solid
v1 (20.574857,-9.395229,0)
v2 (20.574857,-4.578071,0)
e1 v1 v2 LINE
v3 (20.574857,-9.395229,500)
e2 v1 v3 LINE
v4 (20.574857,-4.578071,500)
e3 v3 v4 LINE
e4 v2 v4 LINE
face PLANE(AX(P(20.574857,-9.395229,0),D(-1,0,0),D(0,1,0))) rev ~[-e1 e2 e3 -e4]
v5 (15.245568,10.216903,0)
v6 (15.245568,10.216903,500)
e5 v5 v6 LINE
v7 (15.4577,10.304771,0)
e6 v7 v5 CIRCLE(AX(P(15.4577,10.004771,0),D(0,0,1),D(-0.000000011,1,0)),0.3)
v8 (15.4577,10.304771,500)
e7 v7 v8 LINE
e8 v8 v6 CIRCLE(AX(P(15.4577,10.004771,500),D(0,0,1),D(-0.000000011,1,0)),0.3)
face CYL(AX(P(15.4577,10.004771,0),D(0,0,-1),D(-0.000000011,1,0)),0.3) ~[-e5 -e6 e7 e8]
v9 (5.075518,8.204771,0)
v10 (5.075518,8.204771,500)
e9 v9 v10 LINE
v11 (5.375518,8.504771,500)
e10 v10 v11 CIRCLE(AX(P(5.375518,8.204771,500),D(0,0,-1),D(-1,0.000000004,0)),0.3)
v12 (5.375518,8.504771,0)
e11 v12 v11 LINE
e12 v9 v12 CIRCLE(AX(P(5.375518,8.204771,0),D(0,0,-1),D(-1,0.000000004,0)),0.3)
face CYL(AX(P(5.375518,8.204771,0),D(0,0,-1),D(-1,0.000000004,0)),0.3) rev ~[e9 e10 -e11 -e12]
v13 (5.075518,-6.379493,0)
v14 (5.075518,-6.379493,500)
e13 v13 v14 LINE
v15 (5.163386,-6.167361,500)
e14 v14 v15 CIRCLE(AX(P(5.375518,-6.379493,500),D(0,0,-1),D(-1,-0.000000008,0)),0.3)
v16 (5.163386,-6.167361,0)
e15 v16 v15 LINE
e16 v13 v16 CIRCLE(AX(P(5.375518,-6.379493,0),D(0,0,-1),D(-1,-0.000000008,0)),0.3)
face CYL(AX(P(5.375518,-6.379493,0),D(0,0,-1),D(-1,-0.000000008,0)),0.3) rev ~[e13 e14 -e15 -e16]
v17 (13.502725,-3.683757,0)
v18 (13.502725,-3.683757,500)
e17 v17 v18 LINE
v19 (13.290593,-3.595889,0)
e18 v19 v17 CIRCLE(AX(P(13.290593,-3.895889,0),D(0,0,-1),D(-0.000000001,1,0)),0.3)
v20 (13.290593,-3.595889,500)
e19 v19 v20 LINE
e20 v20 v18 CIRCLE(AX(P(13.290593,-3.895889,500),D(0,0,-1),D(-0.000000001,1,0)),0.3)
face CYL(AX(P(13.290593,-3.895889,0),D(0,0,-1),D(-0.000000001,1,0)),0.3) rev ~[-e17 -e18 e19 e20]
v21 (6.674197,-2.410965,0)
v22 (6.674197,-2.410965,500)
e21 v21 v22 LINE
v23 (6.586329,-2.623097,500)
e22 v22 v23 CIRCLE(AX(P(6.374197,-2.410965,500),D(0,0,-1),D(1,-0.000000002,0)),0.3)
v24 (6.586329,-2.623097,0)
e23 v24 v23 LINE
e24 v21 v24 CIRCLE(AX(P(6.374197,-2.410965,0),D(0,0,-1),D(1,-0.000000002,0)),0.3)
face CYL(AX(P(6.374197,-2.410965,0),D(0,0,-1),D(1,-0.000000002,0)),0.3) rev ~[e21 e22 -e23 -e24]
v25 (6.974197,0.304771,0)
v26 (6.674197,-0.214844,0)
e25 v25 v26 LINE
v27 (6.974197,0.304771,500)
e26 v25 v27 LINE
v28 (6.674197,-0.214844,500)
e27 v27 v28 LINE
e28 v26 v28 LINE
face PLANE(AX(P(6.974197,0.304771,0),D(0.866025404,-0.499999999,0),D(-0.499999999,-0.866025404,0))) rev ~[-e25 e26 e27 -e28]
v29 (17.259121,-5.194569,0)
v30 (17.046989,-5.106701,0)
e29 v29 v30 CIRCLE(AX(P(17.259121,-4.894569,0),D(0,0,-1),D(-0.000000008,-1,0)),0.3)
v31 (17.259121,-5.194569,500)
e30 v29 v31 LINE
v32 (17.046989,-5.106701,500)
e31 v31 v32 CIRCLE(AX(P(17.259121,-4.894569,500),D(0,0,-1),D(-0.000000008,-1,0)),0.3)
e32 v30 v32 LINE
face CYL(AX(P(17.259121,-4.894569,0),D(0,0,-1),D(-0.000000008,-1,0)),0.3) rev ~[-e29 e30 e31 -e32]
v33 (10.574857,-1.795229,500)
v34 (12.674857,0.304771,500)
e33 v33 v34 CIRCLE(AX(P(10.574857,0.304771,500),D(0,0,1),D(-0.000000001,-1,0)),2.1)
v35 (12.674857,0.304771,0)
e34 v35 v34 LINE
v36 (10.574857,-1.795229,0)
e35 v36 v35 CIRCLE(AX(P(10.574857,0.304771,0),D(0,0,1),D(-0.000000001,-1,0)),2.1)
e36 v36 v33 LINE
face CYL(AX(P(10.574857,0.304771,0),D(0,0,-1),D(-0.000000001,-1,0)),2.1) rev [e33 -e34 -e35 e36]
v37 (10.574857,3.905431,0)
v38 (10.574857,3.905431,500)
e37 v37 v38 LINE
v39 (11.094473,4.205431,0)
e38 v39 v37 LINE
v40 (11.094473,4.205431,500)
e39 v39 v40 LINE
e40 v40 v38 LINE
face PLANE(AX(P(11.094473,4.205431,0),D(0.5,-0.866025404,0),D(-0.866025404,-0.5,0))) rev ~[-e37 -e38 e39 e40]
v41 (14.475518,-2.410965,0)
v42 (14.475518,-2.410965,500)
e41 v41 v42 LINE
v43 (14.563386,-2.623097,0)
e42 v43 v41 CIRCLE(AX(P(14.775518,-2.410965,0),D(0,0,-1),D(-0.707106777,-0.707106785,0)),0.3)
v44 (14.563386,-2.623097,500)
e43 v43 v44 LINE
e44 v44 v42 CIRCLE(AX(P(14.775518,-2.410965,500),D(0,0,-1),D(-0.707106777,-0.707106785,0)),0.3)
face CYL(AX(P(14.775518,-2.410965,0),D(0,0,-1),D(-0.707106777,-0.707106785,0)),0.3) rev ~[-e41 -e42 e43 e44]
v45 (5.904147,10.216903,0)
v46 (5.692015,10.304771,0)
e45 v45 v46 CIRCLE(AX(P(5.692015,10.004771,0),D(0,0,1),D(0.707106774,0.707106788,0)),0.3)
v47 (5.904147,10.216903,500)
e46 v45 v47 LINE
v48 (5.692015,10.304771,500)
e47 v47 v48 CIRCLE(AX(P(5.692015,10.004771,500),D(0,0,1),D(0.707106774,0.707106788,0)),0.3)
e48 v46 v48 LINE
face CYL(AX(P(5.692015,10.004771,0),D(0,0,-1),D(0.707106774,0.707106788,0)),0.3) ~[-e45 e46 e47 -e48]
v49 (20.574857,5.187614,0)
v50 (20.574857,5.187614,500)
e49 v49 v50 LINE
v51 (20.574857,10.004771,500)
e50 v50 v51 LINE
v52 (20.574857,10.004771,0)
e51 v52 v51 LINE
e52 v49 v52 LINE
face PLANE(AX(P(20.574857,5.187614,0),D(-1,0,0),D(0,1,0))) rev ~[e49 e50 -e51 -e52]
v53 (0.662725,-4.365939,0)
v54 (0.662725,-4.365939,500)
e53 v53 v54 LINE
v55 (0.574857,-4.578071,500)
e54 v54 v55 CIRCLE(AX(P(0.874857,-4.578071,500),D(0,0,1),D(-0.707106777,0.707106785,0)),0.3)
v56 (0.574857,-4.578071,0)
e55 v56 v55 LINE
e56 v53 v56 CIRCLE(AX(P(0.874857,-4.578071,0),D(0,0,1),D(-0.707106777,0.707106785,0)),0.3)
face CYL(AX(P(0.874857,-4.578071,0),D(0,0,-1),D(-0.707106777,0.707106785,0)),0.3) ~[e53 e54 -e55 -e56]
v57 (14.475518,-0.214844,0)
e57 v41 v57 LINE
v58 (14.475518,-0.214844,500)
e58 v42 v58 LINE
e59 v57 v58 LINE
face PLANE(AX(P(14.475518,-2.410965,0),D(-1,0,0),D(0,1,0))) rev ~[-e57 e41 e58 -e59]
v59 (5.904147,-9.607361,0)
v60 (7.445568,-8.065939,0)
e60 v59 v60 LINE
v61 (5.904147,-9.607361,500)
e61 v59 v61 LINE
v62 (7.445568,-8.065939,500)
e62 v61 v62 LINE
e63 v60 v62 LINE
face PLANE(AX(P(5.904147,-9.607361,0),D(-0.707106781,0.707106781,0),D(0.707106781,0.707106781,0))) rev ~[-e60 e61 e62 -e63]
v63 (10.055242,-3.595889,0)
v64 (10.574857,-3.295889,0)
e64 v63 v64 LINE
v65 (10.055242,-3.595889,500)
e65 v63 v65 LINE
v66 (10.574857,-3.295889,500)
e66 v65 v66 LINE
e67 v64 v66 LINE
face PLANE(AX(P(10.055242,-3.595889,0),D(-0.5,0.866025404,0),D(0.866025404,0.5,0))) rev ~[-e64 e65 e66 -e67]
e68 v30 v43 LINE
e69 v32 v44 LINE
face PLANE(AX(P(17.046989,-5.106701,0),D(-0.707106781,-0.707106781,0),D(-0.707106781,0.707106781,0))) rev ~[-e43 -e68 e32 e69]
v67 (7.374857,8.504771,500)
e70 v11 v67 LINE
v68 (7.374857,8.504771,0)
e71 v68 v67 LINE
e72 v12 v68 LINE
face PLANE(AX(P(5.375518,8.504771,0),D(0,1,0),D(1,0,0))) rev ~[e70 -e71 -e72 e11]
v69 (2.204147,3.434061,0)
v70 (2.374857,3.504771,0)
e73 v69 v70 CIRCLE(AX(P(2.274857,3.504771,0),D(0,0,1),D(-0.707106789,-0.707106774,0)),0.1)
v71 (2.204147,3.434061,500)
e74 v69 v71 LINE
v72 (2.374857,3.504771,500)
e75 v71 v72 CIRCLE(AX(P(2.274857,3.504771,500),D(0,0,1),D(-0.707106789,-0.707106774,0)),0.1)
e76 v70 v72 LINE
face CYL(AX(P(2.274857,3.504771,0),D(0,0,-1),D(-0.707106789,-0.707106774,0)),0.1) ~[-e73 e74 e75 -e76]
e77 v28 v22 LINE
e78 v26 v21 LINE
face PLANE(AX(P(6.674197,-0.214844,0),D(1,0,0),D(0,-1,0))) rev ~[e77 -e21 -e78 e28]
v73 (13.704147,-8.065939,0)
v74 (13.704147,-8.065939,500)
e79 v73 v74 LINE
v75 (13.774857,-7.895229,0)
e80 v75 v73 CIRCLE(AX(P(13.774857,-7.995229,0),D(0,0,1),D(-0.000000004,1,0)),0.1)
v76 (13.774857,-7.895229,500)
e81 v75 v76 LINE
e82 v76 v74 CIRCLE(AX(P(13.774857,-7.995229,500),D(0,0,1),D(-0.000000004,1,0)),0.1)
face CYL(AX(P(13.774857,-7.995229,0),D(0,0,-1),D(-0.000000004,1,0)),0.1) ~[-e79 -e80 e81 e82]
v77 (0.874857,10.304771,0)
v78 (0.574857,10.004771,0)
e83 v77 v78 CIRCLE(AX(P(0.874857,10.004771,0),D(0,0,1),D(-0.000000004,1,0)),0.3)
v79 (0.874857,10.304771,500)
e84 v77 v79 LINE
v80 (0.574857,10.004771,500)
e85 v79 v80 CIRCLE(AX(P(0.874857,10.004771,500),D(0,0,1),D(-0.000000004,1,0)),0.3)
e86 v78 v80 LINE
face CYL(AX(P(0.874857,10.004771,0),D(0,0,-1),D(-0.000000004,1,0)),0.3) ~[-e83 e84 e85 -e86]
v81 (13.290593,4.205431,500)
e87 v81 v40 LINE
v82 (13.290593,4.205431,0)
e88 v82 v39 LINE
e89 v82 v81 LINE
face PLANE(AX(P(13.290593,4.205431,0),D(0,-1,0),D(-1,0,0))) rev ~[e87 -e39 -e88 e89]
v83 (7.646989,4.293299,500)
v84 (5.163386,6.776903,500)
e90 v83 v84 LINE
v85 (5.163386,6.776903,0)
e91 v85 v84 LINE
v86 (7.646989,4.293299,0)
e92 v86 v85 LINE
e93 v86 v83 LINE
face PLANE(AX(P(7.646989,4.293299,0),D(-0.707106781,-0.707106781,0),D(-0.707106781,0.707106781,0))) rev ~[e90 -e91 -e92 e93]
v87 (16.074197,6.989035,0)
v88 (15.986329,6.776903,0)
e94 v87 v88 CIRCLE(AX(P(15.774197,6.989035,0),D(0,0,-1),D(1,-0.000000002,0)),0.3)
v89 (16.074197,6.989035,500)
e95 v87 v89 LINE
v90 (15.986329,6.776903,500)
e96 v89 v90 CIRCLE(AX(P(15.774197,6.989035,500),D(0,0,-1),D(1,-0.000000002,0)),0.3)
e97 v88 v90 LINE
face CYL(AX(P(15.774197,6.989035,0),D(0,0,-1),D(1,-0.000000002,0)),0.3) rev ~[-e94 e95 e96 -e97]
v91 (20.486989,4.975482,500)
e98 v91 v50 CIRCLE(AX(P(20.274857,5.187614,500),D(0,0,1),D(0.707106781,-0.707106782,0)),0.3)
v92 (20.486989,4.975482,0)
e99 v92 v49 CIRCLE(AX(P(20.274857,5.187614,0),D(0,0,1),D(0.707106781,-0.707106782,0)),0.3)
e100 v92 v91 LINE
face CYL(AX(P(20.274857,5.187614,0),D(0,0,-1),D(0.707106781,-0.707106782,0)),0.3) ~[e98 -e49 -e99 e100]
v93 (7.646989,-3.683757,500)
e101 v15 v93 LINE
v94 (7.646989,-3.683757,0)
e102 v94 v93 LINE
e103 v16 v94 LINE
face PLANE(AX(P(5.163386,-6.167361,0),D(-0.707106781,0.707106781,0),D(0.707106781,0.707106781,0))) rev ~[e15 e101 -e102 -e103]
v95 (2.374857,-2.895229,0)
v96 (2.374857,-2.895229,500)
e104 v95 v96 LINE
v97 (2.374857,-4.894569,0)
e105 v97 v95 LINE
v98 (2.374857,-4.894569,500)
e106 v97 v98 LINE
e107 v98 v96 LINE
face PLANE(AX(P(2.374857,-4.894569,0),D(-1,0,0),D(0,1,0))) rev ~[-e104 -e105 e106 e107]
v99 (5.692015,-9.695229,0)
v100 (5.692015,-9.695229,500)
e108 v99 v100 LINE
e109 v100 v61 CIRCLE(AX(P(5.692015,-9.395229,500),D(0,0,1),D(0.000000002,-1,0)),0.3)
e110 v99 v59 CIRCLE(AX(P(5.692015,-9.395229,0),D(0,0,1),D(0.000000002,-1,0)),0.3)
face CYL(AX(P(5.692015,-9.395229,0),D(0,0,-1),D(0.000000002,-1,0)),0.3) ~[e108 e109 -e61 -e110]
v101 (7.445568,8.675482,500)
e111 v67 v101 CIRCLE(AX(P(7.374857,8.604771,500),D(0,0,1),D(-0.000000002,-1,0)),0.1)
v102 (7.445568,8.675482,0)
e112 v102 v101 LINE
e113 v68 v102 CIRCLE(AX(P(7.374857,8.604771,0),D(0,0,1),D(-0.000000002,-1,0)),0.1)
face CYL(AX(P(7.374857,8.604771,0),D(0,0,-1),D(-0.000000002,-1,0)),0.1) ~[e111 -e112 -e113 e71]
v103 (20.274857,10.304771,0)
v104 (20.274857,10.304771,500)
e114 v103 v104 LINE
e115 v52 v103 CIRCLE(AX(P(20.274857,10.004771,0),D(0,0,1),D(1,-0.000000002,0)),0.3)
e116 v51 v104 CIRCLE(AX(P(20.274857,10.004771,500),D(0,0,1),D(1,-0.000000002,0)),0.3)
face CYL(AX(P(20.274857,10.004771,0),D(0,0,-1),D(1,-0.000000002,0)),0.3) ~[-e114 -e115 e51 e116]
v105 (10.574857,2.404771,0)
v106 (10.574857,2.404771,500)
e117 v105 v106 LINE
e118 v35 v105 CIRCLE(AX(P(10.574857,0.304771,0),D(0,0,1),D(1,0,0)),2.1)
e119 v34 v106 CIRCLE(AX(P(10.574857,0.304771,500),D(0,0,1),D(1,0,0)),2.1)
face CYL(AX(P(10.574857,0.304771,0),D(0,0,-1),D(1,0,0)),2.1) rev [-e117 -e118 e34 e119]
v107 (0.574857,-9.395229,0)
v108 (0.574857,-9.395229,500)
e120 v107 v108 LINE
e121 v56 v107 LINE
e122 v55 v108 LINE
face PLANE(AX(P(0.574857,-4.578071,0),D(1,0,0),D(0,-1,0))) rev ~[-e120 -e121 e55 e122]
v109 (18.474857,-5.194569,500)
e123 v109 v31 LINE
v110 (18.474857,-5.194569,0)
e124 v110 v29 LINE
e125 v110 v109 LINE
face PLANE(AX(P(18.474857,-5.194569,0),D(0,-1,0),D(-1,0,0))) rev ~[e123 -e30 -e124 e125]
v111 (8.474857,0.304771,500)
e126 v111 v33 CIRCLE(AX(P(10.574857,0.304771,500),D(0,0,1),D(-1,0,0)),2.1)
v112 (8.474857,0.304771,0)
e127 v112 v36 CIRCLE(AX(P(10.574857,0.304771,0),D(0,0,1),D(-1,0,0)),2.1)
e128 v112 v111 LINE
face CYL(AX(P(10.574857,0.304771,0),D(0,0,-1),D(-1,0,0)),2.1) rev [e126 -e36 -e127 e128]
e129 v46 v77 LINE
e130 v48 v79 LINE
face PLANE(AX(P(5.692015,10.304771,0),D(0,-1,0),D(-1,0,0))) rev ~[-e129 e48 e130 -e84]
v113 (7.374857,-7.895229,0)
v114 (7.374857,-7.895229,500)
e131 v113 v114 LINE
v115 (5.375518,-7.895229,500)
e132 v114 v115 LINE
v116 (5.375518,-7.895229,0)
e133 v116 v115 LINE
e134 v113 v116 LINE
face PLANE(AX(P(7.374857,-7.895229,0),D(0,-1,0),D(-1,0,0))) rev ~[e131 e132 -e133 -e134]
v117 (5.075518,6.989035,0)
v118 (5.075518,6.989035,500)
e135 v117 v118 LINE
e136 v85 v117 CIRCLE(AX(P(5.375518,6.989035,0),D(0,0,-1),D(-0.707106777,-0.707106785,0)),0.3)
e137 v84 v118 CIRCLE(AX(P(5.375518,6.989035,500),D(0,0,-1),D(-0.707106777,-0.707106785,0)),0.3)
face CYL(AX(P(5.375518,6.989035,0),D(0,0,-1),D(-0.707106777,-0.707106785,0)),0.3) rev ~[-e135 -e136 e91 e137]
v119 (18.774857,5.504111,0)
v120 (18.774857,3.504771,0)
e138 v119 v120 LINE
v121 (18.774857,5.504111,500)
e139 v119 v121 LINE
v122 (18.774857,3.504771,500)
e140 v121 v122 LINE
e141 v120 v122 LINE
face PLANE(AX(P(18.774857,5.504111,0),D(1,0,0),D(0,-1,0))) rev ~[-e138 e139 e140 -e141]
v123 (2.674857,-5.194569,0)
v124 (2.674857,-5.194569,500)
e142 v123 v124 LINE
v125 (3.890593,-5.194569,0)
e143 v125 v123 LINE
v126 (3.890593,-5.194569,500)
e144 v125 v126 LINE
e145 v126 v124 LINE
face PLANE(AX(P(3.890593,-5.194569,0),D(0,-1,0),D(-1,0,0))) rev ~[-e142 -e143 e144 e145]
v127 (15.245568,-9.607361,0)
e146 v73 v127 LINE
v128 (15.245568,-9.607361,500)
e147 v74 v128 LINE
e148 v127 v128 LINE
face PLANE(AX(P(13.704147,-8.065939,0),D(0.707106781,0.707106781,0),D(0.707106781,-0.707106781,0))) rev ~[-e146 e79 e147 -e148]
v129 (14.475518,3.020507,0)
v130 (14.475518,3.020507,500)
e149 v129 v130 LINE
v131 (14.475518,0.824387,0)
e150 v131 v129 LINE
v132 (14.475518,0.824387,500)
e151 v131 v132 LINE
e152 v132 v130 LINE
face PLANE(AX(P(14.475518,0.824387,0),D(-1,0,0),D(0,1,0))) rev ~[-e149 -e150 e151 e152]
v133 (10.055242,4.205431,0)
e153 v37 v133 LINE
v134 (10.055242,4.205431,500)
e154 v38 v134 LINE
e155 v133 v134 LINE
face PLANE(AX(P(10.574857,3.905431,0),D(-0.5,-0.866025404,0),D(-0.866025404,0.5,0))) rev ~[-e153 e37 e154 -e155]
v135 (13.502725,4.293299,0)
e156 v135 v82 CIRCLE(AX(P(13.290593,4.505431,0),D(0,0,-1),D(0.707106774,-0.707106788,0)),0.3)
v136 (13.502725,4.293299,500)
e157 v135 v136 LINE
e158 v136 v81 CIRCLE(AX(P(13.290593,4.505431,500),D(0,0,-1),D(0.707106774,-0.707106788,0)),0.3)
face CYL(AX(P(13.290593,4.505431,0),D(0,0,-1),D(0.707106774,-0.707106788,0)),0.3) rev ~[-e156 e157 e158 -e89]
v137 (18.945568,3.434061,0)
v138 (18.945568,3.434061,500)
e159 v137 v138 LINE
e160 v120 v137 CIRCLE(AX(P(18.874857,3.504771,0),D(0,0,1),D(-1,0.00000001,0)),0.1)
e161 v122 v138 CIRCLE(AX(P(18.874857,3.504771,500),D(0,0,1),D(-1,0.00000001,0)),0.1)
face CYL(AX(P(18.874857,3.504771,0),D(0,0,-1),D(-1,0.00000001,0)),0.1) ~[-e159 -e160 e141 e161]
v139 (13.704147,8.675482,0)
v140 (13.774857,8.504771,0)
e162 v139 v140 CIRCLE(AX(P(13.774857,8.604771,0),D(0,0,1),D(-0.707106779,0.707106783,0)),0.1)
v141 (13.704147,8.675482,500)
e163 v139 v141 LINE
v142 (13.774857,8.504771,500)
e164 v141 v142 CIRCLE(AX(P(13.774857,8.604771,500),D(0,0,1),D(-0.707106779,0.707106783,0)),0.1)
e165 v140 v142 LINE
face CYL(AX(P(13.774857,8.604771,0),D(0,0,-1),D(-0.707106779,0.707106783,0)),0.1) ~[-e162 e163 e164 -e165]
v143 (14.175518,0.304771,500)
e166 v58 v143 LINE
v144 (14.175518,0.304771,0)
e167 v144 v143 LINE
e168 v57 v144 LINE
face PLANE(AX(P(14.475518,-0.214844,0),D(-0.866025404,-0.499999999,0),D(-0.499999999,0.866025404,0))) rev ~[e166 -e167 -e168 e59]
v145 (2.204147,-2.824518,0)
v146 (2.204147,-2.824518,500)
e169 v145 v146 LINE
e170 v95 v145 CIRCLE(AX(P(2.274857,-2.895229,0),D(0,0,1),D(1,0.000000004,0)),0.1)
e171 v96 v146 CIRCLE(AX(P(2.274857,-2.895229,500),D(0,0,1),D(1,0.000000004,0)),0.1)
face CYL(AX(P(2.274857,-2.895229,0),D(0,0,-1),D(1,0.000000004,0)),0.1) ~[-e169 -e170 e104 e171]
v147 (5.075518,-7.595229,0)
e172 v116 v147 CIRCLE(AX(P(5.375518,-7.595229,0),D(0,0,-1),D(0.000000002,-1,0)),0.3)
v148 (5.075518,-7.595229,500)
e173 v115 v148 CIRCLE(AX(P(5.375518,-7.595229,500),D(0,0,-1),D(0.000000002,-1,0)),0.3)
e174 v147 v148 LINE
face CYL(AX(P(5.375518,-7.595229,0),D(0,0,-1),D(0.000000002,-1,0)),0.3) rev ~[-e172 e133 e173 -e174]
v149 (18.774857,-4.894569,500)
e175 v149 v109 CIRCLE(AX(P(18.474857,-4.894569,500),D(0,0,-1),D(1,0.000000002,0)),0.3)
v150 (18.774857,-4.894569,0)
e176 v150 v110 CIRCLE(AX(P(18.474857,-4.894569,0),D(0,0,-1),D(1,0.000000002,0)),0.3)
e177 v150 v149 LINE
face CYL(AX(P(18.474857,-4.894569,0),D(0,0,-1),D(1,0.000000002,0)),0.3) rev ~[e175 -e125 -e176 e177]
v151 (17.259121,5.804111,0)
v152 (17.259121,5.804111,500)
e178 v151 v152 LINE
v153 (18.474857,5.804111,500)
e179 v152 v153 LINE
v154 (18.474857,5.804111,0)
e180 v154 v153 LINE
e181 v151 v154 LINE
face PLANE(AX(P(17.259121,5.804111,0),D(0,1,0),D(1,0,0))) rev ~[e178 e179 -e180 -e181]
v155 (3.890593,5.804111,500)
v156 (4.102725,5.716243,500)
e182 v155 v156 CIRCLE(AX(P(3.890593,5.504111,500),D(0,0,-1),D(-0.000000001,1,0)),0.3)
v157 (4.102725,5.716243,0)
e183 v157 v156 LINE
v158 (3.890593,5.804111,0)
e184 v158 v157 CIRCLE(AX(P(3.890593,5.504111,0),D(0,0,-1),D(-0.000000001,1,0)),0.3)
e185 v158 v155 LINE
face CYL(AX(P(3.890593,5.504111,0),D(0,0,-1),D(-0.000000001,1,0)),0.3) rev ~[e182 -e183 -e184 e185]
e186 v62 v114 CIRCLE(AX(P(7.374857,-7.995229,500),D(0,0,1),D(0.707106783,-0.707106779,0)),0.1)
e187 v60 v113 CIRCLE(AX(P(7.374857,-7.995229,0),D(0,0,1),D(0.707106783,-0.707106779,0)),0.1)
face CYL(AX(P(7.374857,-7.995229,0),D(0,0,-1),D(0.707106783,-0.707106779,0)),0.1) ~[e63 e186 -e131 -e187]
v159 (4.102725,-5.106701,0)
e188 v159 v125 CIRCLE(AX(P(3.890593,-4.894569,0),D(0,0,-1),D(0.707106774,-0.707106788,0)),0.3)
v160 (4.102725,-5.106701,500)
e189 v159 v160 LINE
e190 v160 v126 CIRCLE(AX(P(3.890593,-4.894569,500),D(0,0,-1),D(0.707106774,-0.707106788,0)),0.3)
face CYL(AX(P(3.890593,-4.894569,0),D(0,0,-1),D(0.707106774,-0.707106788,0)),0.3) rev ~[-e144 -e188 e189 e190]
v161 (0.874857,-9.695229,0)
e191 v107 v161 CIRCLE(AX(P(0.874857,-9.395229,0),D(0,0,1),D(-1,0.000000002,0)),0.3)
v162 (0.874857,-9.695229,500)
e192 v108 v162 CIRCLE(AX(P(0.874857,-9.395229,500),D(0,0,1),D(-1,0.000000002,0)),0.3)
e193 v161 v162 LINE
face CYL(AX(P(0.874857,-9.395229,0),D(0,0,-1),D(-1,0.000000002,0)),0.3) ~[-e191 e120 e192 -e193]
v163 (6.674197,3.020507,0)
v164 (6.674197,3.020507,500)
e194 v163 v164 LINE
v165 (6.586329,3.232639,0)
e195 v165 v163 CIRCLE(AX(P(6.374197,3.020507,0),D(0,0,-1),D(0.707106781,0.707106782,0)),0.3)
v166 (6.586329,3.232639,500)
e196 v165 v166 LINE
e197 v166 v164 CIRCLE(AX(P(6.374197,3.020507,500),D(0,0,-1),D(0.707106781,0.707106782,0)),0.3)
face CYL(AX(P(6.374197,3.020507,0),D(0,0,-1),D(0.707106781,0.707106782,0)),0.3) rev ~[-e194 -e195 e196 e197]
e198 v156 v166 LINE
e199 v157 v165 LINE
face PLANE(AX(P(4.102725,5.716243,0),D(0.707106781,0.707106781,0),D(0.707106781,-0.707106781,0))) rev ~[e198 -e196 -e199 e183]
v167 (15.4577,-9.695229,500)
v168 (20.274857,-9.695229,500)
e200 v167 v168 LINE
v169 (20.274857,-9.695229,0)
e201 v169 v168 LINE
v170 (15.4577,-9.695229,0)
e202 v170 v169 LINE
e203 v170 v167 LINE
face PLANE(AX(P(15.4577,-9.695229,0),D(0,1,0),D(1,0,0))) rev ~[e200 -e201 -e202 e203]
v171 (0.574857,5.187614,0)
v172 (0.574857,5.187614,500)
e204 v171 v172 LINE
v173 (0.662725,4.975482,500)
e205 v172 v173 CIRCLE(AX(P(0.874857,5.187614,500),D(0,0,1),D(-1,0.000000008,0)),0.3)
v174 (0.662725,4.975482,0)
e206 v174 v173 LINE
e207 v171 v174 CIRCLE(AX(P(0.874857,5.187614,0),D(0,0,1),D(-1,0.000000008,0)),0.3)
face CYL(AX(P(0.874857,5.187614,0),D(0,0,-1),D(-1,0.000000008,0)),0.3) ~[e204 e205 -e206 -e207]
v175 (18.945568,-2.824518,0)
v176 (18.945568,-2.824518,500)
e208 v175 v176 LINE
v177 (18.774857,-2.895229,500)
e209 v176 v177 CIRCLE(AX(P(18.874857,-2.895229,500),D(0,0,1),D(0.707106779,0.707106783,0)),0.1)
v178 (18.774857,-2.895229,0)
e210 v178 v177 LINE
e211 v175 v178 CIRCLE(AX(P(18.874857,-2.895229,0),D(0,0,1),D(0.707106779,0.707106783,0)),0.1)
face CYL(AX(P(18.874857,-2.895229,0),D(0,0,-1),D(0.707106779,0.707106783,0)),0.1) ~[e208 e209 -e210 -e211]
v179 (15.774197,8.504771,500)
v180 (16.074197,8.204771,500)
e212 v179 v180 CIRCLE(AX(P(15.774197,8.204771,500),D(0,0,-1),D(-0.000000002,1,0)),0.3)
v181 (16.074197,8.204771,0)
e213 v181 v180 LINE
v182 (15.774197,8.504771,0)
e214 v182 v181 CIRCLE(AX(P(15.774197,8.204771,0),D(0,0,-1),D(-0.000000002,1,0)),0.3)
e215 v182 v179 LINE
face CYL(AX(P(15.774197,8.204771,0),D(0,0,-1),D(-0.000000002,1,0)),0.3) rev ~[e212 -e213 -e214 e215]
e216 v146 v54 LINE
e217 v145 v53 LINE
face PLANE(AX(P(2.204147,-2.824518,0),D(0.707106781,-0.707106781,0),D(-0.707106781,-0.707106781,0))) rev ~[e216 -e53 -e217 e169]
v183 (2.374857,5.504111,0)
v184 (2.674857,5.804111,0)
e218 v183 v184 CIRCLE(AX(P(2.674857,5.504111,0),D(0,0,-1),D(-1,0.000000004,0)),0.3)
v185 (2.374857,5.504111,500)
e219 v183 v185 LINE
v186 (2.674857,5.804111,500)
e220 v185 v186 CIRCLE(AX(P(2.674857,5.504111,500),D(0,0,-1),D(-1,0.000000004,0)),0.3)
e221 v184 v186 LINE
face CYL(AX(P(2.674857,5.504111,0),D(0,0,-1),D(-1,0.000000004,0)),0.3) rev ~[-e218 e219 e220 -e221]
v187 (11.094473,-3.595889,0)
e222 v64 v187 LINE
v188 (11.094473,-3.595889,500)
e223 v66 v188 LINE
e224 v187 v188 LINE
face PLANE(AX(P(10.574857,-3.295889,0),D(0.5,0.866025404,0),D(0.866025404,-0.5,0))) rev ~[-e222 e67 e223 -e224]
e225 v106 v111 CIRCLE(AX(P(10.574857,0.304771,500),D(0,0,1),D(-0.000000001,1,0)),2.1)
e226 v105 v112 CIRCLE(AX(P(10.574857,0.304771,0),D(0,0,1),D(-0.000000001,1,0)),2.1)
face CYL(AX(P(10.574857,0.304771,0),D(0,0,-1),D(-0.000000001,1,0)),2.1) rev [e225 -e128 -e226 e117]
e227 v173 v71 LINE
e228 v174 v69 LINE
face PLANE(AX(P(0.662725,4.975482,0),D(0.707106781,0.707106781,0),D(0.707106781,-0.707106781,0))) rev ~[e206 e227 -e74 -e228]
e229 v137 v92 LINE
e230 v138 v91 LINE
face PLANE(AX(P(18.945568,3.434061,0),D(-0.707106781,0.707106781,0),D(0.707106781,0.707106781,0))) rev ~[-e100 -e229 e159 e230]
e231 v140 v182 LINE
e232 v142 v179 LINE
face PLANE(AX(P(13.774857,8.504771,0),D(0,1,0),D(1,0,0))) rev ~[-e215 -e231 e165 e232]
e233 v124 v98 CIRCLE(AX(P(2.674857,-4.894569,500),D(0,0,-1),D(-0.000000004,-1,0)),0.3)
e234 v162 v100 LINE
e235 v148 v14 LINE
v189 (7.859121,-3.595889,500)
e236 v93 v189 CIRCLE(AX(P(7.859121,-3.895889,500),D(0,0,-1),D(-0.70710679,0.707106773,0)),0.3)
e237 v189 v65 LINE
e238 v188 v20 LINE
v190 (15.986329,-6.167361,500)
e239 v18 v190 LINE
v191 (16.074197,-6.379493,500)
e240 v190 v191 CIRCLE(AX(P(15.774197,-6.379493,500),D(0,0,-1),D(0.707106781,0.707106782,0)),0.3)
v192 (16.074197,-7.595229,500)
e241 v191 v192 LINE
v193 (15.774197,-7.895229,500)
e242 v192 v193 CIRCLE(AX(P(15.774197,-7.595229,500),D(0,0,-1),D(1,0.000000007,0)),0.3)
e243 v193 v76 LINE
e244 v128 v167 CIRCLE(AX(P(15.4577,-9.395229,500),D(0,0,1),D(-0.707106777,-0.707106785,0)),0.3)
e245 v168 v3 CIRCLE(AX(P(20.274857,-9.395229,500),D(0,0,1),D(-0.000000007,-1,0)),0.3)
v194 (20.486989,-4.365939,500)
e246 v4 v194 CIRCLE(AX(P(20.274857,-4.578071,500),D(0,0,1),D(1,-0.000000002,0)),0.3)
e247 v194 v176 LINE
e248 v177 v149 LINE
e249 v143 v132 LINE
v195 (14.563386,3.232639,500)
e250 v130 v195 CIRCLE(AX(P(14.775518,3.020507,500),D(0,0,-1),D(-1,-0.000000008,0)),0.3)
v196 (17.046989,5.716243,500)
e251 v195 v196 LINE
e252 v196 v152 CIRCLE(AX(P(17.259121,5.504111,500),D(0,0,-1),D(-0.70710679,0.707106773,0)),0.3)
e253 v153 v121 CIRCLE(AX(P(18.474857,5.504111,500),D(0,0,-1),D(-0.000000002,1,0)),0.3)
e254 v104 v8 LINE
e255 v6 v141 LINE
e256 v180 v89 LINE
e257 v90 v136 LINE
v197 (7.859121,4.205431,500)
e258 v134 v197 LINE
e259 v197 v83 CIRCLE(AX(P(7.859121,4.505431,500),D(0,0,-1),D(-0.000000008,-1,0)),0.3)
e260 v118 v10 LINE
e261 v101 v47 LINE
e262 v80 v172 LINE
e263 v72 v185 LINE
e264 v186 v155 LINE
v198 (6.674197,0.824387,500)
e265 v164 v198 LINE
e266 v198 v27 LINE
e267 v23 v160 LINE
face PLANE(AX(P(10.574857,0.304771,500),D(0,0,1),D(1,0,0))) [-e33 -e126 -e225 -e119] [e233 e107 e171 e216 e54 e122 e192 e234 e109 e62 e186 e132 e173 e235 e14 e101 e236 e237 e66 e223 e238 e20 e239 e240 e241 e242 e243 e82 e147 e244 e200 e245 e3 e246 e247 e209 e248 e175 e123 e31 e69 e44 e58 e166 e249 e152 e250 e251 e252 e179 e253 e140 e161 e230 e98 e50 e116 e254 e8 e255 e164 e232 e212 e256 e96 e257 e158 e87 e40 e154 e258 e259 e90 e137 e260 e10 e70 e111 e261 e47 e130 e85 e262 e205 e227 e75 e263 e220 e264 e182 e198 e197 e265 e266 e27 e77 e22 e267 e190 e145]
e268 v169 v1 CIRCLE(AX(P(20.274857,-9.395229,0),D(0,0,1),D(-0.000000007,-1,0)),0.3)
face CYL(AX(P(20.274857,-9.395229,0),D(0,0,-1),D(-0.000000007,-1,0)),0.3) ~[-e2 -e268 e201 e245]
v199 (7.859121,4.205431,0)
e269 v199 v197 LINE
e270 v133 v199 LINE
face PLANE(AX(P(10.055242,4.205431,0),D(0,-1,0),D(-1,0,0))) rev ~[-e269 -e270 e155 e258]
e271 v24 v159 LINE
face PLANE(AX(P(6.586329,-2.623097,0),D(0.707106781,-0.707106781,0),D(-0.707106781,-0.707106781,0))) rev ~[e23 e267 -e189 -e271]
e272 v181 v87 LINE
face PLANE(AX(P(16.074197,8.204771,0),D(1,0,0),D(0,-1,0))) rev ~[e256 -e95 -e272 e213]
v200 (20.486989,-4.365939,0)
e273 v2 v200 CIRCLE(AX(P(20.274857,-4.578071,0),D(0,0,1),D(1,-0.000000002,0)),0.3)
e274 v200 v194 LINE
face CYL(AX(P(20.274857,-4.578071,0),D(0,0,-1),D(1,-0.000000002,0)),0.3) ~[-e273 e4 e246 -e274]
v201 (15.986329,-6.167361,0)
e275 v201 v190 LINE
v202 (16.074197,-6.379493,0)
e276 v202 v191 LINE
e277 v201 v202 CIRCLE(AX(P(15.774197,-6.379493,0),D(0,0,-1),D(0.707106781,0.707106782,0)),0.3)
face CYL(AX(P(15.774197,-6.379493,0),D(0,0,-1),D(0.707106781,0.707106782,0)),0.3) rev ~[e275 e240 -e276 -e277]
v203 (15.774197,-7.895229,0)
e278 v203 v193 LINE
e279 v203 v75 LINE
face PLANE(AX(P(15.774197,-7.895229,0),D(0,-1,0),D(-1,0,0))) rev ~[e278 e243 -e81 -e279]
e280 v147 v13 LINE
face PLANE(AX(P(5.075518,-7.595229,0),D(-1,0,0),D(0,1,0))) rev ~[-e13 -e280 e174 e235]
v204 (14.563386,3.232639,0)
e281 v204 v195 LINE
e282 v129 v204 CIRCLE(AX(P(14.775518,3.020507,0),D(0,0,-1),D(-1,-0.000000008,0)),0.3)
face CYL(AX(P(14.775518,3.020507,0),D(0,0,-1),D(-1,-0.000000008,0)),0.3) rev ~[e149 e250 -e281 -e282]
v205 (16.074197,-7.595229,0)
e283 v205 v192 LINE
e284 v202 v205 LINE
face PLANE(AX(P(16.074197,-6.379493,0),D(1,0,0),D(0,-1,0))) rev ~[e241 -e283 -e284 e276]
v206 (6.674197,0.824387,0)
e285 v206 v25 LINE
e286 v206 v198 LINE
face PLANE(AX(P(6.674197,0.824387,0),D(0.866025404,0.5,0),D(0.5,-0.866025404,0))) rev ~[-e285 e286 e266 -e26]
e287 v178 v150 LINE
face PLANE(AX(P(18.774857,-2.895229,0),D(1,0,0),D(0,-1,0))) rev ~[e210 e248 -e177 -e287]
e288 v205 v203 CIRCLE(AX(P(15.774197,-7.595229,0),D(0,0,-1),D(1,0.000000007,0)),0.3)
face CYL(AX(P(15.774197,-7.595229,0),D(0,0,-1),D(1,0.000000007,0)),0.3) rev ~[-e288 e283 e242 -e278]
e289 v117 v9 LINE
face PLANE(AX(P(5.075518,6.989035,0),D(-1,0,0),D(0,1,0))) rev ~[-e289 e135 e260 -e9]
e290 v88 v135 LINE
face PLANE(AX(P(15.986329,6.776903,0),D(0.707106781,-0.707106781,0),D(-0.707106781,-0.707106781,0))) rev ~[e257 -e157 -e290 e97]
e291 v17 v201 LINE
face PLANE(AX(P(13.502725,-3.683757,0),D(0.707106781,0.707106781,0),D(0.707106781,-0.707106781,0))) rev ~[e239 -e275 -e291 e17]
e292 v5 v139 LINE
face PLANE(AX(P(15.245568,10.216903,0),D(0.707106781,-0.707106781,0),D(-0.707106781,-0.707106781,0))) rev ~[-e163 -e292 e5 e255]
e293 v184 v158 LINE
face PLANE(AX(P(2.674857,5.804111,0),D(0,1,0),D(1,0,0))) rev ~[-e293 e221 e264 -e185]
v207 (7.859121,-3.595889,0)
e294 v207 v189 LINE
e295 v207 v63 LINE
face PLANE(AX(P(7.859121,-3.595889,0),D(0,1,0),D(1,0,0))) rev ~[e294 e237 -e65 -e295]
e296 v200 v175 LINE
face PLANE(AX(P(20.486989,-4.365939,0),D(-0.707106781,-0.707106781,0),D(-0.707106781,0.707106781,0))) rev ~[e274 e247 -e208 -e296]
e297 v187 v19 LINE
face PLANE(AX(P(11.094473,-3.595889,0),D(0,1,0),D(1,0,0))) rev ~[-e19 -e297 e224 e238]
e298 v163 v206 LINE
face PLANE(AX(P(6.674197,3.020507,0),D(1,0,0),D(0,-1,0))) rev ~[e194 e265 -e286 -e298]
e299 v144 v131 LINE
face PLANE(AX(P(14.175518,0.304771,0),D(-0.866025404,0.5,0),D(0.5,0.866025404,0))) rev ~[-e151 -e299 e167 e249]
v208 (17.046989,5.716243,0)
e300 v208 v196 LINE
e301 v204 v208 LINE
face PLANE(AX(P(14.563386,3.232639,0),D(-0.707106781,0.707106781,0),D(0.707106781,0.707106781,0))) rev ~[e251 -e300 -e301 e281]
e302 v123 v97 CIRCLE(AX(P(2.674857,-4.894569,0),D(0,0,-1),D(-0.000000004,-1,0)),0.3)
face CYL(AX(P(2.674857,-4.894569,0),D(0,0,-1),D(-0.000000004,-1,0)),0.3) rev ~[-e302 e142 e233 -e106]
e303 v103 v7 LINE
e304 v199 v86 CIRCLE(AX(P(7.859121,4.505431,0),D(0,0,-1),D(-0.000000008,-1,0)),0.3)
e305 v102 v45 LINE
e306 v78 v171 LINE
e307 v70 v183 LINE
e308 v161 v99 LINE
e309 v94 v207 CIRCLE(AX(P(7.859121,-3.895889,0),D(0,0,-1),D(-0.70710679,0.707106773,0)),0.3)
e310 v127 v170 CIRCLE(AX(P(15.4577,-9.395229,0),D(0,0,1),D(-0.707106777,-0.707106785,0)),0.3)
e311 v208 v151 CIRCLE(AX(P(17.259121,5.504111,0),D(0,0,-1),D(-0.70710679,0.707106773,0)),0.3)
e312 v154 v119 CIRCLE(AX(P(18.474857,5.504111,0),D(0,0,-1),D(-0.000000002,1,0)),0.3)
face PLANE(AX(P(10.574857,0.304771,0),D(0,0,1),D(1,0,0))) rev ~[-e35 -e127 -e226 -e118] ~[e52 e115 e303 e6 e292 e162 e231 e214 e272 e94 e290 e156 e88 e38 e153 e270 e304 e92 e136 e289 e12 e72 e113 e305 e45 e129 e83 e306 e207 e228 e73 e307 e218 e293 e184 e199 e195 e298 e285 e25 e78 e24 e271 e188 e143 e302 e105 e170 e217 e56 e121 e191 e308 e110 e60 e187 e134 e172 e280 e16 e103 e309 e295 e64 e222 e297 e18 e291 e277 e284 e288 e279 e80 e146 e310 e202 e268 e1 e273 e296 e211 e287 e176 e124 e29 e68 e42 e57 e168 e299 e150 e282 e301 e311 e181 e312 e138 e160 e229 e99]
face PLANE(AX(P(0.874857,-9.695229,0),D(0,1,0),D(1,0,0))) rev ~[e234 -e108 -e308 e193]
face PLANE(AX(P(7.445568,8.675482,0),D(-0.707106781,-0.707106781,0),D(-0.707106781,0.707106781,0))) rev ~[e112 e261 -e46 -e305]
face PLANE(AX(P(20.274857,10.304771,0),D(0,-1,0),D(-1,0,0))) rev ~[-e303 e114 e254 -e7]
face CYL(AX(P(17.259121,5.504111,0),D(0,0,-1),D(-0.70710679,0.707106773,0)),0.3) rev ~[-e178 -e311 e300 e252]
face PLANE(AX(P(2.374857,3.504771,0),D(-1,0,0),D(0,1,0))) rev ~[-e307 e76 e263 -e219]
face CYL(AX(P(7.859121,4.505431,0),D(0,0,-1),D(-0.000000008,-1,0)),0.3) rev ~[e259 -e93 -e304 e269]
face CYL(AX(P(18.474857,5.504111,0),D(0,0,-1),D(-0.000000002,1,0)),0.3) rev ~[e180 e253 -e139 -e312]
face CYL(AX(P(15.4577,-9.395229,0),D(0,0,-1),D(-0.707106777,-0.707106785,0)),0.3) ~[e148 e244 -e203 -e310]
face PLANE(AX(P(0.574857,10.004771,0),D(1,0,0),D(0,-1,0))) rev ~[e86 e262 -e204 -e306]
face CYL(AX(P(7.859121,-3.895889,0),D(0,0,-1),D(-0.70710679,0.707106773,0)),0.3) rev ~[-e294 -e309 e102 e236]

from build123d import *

# Parameters (mm, degrees)
BOSS_EXTRU_1_DEPTH = 500


with BuildPart() as part:
    # Esquisse1 → Boss.-Extru.1 (new body)
    with BuildSketch(Plane.XY):
        with BuildLine():
            Line((18.774857412, -2.895228684), (18.774857412, -4.894568513))
            ThreePointArc((18.774857412, -4.894568513), (18.686989447, -5.106700547), (18.474857412, -5.194568513))
            Line((18.474857412, -5.194568513), (17.259121481, -5.194568513))
            ThreePointArc((17.259121481, -5.194568513), (17.144316451, -5.171732372), (17.046989447, -5.106700547))
            Line((17.046989447, -5.106700547), (14.56338555, -2.62309665))
            ThreePointArc((14.56338555, -2.62309665), (14.498353724, -2.525769645), (14.475517584, -2.410964616))
            Line((14.475517584, -2.410964616), (14.475517584, -0.214843927))
            Line((14.475517584, -0.214843927), (14.175517584, 0.304771316))
            Line((14.175517584, 0.304771316), (14.475517584, 0.824386558))
            Line((14.475517584, 0.824386558), (14.475517584, 3.020507247))
            ThreePointArc((14.475517584, 3.020507247), (14.498353724, 3.135312277), (14.56338555, 3.232639281))
            Line((14.56338555, 3.232639281), (17.046989447, 5.716243178))
            ThreePointArc((17.046989447, 5.716243178), (17.144316451, 5.781275004), (17.259121481, 5.804111144))
            Line((17.259121481, 5.804111144), (18.474857412, 5.804111144))
            ThreePointArc((18.474857412, 5.804111144), (18.686989447, 5.716243178), (18.774857412, 5.504111144))
            Line((18.774857412, 5.504111144), (18.774857412, 3.504771316))
            ThreePointArc((18.774857412, 3.504771316), (18.836589069, 3.412383362), (18.94556809, 3.434060638))
            Line((18.94556809, 3.434060638), (20.486989447, 4.975481994))
            ThreePointArc((20.486989447, 4.975481994), (20.552021272, 5.072808998), (20.574857412, 5.187614028))
            Line((20.574857412, 5.187614028), (20.574857412, 10.004771316))
            ThreePointArc((20.574857412, 10.004771316), (20.486989447, 10.21690335), (20.274857412, 10.304771316))
            Line((20.274857412, 10.304771316), (15.457700125, 10.304771316))
            ThreePointArc((15.457700125, 10.304771316), (15.342895095, 10.281935175), (15.24556809, 10.21690335))
            Line((15.24556809, 10.21690335), (13.704146734, 8.675481994))
            ThreePointArc((13.704146734, 8.675481994), (13.682469459, 8.566502972), (13.774857412, 8.504771316))
            Line((13.774857412, 8.504771316), (15.77419724, 8.504771316))
            ThreePointArc((15.77419724, 8.504771316), (15.986329275, 8.41690335), (16.07419724, 8.204771316))
            Line((16.07419724, 8.204771316), (16.07419724, 6.989035384))
            ThreePointArc((16.07419724, 6.989035384), (16.0513611, 6.874230355), (15.986329275, 6.77690335))
            Line((15.986329275, 6.77690335), (13.502725378, 4.293299453))
            ThreePointArc((13.502725378, 4.293299453), (13.405398373, 4.228267628), (13.290593344, 4.205431487))
            Line((13.290593344, 4.205431487), (11.094472654, 4.205431487))
            Line((11.094472654, 4.205431487), (10.574857412, 3.905431487))
            Line((10.574857412, 3.905431487), (10.05524217, 4.205431487))
            Line((10.05524217, 4.205431487), (7.859121481, 4.205431487))
            ThreePointArc((7.859121481, 4.205431487), (7.744316451, 4.228267628), (7.646989447, 4.293299453))
            Line((7.646989447, 4.293299453), (5.16338555, 6.77690335))
            ThreePointArc((5.16338555, 6.77690335), (5.098353724, 6.874230355), (5.075517584, 6.989035384))
            Line((5.075517584, 6.989035384), (5.075517584, 8.204771316))
            ThreePointArc((5.075517584, 8.204771316), (5.16338555, 8.41690335), (5.375517584, 8.504771316))
            Line((5.375517584, 8.504771316), (7.374857412, 8.504771316))
            ThreePointArc((7.374857412, 8.504771316), (7.467245365, 8.566502972), (7.44556809, 8.675481994))
            Line((7.44556809, 8.675481994), (5.904146734, 10.21690335))
            ThreePointArc((5.904146734, 10.21690335), (5.806819729, 10.281935175), (5.6920147, 10.304771316))
            Line((5.6920147, 10.304771316), (0.874857412, 10.304771316))
            ThreePointArc((0.874857412, 10.304771316), (0.662725378, 10.21690335), (0.574857412, 10.004771316))
            Line((0.574857412, 10.004771316), (0.574857412, 5.187614028))
            ThreePointArc((0.574857412, 5.187614028), (0.597693552, 5.072808998), (0.662725378, 4.975481994))
            Line((0.662725378, 4.975481994), (2.204146734, 3.434060638))
            ThreePointArc((2.204146734, 3.434060638), (2.313125755, 3.412383362), (2.374857412, 3.504771316))
            Line((2.374857412, 3.504771316), (2.374857412, 5.504111144))
            ThreePointArc((2.374857412, 5.504111144), (2.462725378, 5.716243178), (2.674857412, 5.804111144))
            Line((2.674857412, 5.804111144), (3.890593344, 5.804111144))
            ThreePointArc((3.890593344, 5.804111144), (4.005398373, 5.781275004), (4.102725378, 5.716243178))
            Line((4.102725378, 5.716243178), (6.586329275, 3.232639281))
            ThreePointArc((6.586329275, 3.232639281), (6.6513611, 3.135312277), (6.67419724, 3.020507247))
            Line((6.67419724, 3.020507247), (6.67419724, 0.824386558))
            Line((6.67419724, 0.824386558), (6.97419724, 0.304771316))
            Line((6.97419724, 0.304771316), (6.67419724, -0.214843927))
            Line((6.67419724, -0.214843927), (6.67419724, -2.410964616))
            ThreePointArc((6.67419724, -2.410964616), (6.6513611, -2.525769645), (6.586329275, -2.62309665))
            Line((6.586329275, -2.62309665), (4.102725378, -5.106700547))
            ThreePointArc((4.102725378, -5.106700547), (4.005398373, -5.171732372), (3.890593344, -5.194568513))
            Line((3.890593344, -5.194568513), (2.674857412, -5.194568513))
            ThreePointArc((2.674857412, -5.194568513), (2.462725378, -5.106700547), (2.374857412, -4.894568513))
            Line((2.374857412, -4.894568513), (2.374857412, -2.895228684))
            ThreePointArc((2.374857412, -2.895228684), (2.313125755, -2.802840731), (2.204146734, -2.824518006))
            Line((2.204146734, -2.824518006), (0.662725378, -4.365939362))
            ThreePointArc((0.662725378, -4.365939362), (0.597693552, -4.463266367), (0.574857412, -4.578071397))
            Line((0.574857412, -4.578071397), (0.574857412, -9.395228684))
            ThreePointArc((0.574857412, -9.395228684), (0.662725378, -9.607360719), (0.874857412, -9.695228684))
            Line((0.874857412, -9.695228684), (5.6920147, -9.695228684))
            ThreePointArc((5.6920147, -9.695228684), (5.806819729, -9.672392544), (5.904146734, -9.607360719))
            Line((5.904146734, -9.607360719), (7.44556809, -8.065939362))
            ThreePointArc((7.44556809, -8.065939362), (7.467245365, -7.956960341), (7.374857412, -7.895228684))
            Line((7.374857412, -7.895228684), (5.375517584, -7.895228684))
            ThreePointArc((5.375517584, -7.895228684), (5.16338555, -7.807360719), (5.075517584, -7.595228684))
            Line((5.075517584, -7.595228684), (5.075517584, -6.379492753))
            ThreePointArc((5.075517584, -6.379492753), (5.098353724, -6.264687723), (5.16338555, -6.167360719))
            Line((5.16338555, -6.167360719), (7.646989447, -3.683756822))
            ThreePointArc((7.646989447, -3.683756822), (7.744316451, -3.618724996), (7.859121481, -3.595888856))
            Line((7.859121481, -3.595888856), (10.05524217, -3.595888856))
            Line((10.05524217, -3.595888856), (10.574857412, -3.295888856))
            Line((10.574857412, -3.295888856), (11.094472654, -3.595888856))
            Line((11.094472654, -3.595888856), (13.290593344, -3.595888856))
            ThreePointArc((13.290593344, -3.595888856), (13.405398373, -3.618724996), (13.502725378, -3.683756822))
            Line((13.502725378, -3.683756822), (15.986329275, -6.167360719))
            ThreePointArc((15.986329275, -6.167360719), (16.0513611, -6.264687723), (16.07419724, -6.379492753))
            Line((16.07419724, -6.379492753), (16.07419724, -7.595228684))
            ThreePointArc((16.07419724, -7.595228684), (15.986329275, -7.807360719), (15.77419724, -7.895228684))
            Line((15.77419724, -7.895228684), (13.774857412, -7.895228684))
            ThreePointArc((13.774857412, -7.895228684), (13.682469459, -7.956960341), (13.704146734, -8.065939362))
            Line((13.704146734, -8.065939362), (15.24556809, -9.607360719))
            ThreePointArc((15.24556809, -9.607360719), (15.342895095, -9.672392544), (15.457700125, -9.695228684))
            Line((15.457700125, -9.695228684), (20.274857412, -9.695228684))
            ThreePointArc((20.274857412, -9.695228684), (20.486989447, -9.607360719), (20.574857412, -9.395228684))
            Line((20.574857412, -9.395228684), (20.574857412, -4.578071397))
            ThreePointArc((20.574857412, -4.578071397), (20.552021272, -4.463266367), (20.486989447, -4.365939362))
            Line((20.486989447, -4.365939362), (18.94556809, -2.824518006))
            ThreePointArc((18.94556809, -2.824518006), (18.836589069, -2.802840731), (18.774857412, -2.895228684))
        make_face()
        with BuildLine():
            ThreePointArc((10.574857412, -1.795228684), (12.059781653, -1.180152925), (12.674857412, 0.304771316))
            ThreePointArc((12.674857412, 0.304771316), (12.059781653, 1.789695556), (10.574857412, 2.404771316))
            ThreePointArc((10.574857412, 2.404771316), (9.089933172, 1.789695556), (8.474857412, 0.304771316))
            ThreePointArc((8.474857412, 0.304771316), (9.089933172, -1.180152925), (10.574857412, -1.795228684))
        make_face(mode=Mode.SUBTRACT)
    extrude(amount=BOSS_EXTRU_1_DEPTH)


solid = part.part
